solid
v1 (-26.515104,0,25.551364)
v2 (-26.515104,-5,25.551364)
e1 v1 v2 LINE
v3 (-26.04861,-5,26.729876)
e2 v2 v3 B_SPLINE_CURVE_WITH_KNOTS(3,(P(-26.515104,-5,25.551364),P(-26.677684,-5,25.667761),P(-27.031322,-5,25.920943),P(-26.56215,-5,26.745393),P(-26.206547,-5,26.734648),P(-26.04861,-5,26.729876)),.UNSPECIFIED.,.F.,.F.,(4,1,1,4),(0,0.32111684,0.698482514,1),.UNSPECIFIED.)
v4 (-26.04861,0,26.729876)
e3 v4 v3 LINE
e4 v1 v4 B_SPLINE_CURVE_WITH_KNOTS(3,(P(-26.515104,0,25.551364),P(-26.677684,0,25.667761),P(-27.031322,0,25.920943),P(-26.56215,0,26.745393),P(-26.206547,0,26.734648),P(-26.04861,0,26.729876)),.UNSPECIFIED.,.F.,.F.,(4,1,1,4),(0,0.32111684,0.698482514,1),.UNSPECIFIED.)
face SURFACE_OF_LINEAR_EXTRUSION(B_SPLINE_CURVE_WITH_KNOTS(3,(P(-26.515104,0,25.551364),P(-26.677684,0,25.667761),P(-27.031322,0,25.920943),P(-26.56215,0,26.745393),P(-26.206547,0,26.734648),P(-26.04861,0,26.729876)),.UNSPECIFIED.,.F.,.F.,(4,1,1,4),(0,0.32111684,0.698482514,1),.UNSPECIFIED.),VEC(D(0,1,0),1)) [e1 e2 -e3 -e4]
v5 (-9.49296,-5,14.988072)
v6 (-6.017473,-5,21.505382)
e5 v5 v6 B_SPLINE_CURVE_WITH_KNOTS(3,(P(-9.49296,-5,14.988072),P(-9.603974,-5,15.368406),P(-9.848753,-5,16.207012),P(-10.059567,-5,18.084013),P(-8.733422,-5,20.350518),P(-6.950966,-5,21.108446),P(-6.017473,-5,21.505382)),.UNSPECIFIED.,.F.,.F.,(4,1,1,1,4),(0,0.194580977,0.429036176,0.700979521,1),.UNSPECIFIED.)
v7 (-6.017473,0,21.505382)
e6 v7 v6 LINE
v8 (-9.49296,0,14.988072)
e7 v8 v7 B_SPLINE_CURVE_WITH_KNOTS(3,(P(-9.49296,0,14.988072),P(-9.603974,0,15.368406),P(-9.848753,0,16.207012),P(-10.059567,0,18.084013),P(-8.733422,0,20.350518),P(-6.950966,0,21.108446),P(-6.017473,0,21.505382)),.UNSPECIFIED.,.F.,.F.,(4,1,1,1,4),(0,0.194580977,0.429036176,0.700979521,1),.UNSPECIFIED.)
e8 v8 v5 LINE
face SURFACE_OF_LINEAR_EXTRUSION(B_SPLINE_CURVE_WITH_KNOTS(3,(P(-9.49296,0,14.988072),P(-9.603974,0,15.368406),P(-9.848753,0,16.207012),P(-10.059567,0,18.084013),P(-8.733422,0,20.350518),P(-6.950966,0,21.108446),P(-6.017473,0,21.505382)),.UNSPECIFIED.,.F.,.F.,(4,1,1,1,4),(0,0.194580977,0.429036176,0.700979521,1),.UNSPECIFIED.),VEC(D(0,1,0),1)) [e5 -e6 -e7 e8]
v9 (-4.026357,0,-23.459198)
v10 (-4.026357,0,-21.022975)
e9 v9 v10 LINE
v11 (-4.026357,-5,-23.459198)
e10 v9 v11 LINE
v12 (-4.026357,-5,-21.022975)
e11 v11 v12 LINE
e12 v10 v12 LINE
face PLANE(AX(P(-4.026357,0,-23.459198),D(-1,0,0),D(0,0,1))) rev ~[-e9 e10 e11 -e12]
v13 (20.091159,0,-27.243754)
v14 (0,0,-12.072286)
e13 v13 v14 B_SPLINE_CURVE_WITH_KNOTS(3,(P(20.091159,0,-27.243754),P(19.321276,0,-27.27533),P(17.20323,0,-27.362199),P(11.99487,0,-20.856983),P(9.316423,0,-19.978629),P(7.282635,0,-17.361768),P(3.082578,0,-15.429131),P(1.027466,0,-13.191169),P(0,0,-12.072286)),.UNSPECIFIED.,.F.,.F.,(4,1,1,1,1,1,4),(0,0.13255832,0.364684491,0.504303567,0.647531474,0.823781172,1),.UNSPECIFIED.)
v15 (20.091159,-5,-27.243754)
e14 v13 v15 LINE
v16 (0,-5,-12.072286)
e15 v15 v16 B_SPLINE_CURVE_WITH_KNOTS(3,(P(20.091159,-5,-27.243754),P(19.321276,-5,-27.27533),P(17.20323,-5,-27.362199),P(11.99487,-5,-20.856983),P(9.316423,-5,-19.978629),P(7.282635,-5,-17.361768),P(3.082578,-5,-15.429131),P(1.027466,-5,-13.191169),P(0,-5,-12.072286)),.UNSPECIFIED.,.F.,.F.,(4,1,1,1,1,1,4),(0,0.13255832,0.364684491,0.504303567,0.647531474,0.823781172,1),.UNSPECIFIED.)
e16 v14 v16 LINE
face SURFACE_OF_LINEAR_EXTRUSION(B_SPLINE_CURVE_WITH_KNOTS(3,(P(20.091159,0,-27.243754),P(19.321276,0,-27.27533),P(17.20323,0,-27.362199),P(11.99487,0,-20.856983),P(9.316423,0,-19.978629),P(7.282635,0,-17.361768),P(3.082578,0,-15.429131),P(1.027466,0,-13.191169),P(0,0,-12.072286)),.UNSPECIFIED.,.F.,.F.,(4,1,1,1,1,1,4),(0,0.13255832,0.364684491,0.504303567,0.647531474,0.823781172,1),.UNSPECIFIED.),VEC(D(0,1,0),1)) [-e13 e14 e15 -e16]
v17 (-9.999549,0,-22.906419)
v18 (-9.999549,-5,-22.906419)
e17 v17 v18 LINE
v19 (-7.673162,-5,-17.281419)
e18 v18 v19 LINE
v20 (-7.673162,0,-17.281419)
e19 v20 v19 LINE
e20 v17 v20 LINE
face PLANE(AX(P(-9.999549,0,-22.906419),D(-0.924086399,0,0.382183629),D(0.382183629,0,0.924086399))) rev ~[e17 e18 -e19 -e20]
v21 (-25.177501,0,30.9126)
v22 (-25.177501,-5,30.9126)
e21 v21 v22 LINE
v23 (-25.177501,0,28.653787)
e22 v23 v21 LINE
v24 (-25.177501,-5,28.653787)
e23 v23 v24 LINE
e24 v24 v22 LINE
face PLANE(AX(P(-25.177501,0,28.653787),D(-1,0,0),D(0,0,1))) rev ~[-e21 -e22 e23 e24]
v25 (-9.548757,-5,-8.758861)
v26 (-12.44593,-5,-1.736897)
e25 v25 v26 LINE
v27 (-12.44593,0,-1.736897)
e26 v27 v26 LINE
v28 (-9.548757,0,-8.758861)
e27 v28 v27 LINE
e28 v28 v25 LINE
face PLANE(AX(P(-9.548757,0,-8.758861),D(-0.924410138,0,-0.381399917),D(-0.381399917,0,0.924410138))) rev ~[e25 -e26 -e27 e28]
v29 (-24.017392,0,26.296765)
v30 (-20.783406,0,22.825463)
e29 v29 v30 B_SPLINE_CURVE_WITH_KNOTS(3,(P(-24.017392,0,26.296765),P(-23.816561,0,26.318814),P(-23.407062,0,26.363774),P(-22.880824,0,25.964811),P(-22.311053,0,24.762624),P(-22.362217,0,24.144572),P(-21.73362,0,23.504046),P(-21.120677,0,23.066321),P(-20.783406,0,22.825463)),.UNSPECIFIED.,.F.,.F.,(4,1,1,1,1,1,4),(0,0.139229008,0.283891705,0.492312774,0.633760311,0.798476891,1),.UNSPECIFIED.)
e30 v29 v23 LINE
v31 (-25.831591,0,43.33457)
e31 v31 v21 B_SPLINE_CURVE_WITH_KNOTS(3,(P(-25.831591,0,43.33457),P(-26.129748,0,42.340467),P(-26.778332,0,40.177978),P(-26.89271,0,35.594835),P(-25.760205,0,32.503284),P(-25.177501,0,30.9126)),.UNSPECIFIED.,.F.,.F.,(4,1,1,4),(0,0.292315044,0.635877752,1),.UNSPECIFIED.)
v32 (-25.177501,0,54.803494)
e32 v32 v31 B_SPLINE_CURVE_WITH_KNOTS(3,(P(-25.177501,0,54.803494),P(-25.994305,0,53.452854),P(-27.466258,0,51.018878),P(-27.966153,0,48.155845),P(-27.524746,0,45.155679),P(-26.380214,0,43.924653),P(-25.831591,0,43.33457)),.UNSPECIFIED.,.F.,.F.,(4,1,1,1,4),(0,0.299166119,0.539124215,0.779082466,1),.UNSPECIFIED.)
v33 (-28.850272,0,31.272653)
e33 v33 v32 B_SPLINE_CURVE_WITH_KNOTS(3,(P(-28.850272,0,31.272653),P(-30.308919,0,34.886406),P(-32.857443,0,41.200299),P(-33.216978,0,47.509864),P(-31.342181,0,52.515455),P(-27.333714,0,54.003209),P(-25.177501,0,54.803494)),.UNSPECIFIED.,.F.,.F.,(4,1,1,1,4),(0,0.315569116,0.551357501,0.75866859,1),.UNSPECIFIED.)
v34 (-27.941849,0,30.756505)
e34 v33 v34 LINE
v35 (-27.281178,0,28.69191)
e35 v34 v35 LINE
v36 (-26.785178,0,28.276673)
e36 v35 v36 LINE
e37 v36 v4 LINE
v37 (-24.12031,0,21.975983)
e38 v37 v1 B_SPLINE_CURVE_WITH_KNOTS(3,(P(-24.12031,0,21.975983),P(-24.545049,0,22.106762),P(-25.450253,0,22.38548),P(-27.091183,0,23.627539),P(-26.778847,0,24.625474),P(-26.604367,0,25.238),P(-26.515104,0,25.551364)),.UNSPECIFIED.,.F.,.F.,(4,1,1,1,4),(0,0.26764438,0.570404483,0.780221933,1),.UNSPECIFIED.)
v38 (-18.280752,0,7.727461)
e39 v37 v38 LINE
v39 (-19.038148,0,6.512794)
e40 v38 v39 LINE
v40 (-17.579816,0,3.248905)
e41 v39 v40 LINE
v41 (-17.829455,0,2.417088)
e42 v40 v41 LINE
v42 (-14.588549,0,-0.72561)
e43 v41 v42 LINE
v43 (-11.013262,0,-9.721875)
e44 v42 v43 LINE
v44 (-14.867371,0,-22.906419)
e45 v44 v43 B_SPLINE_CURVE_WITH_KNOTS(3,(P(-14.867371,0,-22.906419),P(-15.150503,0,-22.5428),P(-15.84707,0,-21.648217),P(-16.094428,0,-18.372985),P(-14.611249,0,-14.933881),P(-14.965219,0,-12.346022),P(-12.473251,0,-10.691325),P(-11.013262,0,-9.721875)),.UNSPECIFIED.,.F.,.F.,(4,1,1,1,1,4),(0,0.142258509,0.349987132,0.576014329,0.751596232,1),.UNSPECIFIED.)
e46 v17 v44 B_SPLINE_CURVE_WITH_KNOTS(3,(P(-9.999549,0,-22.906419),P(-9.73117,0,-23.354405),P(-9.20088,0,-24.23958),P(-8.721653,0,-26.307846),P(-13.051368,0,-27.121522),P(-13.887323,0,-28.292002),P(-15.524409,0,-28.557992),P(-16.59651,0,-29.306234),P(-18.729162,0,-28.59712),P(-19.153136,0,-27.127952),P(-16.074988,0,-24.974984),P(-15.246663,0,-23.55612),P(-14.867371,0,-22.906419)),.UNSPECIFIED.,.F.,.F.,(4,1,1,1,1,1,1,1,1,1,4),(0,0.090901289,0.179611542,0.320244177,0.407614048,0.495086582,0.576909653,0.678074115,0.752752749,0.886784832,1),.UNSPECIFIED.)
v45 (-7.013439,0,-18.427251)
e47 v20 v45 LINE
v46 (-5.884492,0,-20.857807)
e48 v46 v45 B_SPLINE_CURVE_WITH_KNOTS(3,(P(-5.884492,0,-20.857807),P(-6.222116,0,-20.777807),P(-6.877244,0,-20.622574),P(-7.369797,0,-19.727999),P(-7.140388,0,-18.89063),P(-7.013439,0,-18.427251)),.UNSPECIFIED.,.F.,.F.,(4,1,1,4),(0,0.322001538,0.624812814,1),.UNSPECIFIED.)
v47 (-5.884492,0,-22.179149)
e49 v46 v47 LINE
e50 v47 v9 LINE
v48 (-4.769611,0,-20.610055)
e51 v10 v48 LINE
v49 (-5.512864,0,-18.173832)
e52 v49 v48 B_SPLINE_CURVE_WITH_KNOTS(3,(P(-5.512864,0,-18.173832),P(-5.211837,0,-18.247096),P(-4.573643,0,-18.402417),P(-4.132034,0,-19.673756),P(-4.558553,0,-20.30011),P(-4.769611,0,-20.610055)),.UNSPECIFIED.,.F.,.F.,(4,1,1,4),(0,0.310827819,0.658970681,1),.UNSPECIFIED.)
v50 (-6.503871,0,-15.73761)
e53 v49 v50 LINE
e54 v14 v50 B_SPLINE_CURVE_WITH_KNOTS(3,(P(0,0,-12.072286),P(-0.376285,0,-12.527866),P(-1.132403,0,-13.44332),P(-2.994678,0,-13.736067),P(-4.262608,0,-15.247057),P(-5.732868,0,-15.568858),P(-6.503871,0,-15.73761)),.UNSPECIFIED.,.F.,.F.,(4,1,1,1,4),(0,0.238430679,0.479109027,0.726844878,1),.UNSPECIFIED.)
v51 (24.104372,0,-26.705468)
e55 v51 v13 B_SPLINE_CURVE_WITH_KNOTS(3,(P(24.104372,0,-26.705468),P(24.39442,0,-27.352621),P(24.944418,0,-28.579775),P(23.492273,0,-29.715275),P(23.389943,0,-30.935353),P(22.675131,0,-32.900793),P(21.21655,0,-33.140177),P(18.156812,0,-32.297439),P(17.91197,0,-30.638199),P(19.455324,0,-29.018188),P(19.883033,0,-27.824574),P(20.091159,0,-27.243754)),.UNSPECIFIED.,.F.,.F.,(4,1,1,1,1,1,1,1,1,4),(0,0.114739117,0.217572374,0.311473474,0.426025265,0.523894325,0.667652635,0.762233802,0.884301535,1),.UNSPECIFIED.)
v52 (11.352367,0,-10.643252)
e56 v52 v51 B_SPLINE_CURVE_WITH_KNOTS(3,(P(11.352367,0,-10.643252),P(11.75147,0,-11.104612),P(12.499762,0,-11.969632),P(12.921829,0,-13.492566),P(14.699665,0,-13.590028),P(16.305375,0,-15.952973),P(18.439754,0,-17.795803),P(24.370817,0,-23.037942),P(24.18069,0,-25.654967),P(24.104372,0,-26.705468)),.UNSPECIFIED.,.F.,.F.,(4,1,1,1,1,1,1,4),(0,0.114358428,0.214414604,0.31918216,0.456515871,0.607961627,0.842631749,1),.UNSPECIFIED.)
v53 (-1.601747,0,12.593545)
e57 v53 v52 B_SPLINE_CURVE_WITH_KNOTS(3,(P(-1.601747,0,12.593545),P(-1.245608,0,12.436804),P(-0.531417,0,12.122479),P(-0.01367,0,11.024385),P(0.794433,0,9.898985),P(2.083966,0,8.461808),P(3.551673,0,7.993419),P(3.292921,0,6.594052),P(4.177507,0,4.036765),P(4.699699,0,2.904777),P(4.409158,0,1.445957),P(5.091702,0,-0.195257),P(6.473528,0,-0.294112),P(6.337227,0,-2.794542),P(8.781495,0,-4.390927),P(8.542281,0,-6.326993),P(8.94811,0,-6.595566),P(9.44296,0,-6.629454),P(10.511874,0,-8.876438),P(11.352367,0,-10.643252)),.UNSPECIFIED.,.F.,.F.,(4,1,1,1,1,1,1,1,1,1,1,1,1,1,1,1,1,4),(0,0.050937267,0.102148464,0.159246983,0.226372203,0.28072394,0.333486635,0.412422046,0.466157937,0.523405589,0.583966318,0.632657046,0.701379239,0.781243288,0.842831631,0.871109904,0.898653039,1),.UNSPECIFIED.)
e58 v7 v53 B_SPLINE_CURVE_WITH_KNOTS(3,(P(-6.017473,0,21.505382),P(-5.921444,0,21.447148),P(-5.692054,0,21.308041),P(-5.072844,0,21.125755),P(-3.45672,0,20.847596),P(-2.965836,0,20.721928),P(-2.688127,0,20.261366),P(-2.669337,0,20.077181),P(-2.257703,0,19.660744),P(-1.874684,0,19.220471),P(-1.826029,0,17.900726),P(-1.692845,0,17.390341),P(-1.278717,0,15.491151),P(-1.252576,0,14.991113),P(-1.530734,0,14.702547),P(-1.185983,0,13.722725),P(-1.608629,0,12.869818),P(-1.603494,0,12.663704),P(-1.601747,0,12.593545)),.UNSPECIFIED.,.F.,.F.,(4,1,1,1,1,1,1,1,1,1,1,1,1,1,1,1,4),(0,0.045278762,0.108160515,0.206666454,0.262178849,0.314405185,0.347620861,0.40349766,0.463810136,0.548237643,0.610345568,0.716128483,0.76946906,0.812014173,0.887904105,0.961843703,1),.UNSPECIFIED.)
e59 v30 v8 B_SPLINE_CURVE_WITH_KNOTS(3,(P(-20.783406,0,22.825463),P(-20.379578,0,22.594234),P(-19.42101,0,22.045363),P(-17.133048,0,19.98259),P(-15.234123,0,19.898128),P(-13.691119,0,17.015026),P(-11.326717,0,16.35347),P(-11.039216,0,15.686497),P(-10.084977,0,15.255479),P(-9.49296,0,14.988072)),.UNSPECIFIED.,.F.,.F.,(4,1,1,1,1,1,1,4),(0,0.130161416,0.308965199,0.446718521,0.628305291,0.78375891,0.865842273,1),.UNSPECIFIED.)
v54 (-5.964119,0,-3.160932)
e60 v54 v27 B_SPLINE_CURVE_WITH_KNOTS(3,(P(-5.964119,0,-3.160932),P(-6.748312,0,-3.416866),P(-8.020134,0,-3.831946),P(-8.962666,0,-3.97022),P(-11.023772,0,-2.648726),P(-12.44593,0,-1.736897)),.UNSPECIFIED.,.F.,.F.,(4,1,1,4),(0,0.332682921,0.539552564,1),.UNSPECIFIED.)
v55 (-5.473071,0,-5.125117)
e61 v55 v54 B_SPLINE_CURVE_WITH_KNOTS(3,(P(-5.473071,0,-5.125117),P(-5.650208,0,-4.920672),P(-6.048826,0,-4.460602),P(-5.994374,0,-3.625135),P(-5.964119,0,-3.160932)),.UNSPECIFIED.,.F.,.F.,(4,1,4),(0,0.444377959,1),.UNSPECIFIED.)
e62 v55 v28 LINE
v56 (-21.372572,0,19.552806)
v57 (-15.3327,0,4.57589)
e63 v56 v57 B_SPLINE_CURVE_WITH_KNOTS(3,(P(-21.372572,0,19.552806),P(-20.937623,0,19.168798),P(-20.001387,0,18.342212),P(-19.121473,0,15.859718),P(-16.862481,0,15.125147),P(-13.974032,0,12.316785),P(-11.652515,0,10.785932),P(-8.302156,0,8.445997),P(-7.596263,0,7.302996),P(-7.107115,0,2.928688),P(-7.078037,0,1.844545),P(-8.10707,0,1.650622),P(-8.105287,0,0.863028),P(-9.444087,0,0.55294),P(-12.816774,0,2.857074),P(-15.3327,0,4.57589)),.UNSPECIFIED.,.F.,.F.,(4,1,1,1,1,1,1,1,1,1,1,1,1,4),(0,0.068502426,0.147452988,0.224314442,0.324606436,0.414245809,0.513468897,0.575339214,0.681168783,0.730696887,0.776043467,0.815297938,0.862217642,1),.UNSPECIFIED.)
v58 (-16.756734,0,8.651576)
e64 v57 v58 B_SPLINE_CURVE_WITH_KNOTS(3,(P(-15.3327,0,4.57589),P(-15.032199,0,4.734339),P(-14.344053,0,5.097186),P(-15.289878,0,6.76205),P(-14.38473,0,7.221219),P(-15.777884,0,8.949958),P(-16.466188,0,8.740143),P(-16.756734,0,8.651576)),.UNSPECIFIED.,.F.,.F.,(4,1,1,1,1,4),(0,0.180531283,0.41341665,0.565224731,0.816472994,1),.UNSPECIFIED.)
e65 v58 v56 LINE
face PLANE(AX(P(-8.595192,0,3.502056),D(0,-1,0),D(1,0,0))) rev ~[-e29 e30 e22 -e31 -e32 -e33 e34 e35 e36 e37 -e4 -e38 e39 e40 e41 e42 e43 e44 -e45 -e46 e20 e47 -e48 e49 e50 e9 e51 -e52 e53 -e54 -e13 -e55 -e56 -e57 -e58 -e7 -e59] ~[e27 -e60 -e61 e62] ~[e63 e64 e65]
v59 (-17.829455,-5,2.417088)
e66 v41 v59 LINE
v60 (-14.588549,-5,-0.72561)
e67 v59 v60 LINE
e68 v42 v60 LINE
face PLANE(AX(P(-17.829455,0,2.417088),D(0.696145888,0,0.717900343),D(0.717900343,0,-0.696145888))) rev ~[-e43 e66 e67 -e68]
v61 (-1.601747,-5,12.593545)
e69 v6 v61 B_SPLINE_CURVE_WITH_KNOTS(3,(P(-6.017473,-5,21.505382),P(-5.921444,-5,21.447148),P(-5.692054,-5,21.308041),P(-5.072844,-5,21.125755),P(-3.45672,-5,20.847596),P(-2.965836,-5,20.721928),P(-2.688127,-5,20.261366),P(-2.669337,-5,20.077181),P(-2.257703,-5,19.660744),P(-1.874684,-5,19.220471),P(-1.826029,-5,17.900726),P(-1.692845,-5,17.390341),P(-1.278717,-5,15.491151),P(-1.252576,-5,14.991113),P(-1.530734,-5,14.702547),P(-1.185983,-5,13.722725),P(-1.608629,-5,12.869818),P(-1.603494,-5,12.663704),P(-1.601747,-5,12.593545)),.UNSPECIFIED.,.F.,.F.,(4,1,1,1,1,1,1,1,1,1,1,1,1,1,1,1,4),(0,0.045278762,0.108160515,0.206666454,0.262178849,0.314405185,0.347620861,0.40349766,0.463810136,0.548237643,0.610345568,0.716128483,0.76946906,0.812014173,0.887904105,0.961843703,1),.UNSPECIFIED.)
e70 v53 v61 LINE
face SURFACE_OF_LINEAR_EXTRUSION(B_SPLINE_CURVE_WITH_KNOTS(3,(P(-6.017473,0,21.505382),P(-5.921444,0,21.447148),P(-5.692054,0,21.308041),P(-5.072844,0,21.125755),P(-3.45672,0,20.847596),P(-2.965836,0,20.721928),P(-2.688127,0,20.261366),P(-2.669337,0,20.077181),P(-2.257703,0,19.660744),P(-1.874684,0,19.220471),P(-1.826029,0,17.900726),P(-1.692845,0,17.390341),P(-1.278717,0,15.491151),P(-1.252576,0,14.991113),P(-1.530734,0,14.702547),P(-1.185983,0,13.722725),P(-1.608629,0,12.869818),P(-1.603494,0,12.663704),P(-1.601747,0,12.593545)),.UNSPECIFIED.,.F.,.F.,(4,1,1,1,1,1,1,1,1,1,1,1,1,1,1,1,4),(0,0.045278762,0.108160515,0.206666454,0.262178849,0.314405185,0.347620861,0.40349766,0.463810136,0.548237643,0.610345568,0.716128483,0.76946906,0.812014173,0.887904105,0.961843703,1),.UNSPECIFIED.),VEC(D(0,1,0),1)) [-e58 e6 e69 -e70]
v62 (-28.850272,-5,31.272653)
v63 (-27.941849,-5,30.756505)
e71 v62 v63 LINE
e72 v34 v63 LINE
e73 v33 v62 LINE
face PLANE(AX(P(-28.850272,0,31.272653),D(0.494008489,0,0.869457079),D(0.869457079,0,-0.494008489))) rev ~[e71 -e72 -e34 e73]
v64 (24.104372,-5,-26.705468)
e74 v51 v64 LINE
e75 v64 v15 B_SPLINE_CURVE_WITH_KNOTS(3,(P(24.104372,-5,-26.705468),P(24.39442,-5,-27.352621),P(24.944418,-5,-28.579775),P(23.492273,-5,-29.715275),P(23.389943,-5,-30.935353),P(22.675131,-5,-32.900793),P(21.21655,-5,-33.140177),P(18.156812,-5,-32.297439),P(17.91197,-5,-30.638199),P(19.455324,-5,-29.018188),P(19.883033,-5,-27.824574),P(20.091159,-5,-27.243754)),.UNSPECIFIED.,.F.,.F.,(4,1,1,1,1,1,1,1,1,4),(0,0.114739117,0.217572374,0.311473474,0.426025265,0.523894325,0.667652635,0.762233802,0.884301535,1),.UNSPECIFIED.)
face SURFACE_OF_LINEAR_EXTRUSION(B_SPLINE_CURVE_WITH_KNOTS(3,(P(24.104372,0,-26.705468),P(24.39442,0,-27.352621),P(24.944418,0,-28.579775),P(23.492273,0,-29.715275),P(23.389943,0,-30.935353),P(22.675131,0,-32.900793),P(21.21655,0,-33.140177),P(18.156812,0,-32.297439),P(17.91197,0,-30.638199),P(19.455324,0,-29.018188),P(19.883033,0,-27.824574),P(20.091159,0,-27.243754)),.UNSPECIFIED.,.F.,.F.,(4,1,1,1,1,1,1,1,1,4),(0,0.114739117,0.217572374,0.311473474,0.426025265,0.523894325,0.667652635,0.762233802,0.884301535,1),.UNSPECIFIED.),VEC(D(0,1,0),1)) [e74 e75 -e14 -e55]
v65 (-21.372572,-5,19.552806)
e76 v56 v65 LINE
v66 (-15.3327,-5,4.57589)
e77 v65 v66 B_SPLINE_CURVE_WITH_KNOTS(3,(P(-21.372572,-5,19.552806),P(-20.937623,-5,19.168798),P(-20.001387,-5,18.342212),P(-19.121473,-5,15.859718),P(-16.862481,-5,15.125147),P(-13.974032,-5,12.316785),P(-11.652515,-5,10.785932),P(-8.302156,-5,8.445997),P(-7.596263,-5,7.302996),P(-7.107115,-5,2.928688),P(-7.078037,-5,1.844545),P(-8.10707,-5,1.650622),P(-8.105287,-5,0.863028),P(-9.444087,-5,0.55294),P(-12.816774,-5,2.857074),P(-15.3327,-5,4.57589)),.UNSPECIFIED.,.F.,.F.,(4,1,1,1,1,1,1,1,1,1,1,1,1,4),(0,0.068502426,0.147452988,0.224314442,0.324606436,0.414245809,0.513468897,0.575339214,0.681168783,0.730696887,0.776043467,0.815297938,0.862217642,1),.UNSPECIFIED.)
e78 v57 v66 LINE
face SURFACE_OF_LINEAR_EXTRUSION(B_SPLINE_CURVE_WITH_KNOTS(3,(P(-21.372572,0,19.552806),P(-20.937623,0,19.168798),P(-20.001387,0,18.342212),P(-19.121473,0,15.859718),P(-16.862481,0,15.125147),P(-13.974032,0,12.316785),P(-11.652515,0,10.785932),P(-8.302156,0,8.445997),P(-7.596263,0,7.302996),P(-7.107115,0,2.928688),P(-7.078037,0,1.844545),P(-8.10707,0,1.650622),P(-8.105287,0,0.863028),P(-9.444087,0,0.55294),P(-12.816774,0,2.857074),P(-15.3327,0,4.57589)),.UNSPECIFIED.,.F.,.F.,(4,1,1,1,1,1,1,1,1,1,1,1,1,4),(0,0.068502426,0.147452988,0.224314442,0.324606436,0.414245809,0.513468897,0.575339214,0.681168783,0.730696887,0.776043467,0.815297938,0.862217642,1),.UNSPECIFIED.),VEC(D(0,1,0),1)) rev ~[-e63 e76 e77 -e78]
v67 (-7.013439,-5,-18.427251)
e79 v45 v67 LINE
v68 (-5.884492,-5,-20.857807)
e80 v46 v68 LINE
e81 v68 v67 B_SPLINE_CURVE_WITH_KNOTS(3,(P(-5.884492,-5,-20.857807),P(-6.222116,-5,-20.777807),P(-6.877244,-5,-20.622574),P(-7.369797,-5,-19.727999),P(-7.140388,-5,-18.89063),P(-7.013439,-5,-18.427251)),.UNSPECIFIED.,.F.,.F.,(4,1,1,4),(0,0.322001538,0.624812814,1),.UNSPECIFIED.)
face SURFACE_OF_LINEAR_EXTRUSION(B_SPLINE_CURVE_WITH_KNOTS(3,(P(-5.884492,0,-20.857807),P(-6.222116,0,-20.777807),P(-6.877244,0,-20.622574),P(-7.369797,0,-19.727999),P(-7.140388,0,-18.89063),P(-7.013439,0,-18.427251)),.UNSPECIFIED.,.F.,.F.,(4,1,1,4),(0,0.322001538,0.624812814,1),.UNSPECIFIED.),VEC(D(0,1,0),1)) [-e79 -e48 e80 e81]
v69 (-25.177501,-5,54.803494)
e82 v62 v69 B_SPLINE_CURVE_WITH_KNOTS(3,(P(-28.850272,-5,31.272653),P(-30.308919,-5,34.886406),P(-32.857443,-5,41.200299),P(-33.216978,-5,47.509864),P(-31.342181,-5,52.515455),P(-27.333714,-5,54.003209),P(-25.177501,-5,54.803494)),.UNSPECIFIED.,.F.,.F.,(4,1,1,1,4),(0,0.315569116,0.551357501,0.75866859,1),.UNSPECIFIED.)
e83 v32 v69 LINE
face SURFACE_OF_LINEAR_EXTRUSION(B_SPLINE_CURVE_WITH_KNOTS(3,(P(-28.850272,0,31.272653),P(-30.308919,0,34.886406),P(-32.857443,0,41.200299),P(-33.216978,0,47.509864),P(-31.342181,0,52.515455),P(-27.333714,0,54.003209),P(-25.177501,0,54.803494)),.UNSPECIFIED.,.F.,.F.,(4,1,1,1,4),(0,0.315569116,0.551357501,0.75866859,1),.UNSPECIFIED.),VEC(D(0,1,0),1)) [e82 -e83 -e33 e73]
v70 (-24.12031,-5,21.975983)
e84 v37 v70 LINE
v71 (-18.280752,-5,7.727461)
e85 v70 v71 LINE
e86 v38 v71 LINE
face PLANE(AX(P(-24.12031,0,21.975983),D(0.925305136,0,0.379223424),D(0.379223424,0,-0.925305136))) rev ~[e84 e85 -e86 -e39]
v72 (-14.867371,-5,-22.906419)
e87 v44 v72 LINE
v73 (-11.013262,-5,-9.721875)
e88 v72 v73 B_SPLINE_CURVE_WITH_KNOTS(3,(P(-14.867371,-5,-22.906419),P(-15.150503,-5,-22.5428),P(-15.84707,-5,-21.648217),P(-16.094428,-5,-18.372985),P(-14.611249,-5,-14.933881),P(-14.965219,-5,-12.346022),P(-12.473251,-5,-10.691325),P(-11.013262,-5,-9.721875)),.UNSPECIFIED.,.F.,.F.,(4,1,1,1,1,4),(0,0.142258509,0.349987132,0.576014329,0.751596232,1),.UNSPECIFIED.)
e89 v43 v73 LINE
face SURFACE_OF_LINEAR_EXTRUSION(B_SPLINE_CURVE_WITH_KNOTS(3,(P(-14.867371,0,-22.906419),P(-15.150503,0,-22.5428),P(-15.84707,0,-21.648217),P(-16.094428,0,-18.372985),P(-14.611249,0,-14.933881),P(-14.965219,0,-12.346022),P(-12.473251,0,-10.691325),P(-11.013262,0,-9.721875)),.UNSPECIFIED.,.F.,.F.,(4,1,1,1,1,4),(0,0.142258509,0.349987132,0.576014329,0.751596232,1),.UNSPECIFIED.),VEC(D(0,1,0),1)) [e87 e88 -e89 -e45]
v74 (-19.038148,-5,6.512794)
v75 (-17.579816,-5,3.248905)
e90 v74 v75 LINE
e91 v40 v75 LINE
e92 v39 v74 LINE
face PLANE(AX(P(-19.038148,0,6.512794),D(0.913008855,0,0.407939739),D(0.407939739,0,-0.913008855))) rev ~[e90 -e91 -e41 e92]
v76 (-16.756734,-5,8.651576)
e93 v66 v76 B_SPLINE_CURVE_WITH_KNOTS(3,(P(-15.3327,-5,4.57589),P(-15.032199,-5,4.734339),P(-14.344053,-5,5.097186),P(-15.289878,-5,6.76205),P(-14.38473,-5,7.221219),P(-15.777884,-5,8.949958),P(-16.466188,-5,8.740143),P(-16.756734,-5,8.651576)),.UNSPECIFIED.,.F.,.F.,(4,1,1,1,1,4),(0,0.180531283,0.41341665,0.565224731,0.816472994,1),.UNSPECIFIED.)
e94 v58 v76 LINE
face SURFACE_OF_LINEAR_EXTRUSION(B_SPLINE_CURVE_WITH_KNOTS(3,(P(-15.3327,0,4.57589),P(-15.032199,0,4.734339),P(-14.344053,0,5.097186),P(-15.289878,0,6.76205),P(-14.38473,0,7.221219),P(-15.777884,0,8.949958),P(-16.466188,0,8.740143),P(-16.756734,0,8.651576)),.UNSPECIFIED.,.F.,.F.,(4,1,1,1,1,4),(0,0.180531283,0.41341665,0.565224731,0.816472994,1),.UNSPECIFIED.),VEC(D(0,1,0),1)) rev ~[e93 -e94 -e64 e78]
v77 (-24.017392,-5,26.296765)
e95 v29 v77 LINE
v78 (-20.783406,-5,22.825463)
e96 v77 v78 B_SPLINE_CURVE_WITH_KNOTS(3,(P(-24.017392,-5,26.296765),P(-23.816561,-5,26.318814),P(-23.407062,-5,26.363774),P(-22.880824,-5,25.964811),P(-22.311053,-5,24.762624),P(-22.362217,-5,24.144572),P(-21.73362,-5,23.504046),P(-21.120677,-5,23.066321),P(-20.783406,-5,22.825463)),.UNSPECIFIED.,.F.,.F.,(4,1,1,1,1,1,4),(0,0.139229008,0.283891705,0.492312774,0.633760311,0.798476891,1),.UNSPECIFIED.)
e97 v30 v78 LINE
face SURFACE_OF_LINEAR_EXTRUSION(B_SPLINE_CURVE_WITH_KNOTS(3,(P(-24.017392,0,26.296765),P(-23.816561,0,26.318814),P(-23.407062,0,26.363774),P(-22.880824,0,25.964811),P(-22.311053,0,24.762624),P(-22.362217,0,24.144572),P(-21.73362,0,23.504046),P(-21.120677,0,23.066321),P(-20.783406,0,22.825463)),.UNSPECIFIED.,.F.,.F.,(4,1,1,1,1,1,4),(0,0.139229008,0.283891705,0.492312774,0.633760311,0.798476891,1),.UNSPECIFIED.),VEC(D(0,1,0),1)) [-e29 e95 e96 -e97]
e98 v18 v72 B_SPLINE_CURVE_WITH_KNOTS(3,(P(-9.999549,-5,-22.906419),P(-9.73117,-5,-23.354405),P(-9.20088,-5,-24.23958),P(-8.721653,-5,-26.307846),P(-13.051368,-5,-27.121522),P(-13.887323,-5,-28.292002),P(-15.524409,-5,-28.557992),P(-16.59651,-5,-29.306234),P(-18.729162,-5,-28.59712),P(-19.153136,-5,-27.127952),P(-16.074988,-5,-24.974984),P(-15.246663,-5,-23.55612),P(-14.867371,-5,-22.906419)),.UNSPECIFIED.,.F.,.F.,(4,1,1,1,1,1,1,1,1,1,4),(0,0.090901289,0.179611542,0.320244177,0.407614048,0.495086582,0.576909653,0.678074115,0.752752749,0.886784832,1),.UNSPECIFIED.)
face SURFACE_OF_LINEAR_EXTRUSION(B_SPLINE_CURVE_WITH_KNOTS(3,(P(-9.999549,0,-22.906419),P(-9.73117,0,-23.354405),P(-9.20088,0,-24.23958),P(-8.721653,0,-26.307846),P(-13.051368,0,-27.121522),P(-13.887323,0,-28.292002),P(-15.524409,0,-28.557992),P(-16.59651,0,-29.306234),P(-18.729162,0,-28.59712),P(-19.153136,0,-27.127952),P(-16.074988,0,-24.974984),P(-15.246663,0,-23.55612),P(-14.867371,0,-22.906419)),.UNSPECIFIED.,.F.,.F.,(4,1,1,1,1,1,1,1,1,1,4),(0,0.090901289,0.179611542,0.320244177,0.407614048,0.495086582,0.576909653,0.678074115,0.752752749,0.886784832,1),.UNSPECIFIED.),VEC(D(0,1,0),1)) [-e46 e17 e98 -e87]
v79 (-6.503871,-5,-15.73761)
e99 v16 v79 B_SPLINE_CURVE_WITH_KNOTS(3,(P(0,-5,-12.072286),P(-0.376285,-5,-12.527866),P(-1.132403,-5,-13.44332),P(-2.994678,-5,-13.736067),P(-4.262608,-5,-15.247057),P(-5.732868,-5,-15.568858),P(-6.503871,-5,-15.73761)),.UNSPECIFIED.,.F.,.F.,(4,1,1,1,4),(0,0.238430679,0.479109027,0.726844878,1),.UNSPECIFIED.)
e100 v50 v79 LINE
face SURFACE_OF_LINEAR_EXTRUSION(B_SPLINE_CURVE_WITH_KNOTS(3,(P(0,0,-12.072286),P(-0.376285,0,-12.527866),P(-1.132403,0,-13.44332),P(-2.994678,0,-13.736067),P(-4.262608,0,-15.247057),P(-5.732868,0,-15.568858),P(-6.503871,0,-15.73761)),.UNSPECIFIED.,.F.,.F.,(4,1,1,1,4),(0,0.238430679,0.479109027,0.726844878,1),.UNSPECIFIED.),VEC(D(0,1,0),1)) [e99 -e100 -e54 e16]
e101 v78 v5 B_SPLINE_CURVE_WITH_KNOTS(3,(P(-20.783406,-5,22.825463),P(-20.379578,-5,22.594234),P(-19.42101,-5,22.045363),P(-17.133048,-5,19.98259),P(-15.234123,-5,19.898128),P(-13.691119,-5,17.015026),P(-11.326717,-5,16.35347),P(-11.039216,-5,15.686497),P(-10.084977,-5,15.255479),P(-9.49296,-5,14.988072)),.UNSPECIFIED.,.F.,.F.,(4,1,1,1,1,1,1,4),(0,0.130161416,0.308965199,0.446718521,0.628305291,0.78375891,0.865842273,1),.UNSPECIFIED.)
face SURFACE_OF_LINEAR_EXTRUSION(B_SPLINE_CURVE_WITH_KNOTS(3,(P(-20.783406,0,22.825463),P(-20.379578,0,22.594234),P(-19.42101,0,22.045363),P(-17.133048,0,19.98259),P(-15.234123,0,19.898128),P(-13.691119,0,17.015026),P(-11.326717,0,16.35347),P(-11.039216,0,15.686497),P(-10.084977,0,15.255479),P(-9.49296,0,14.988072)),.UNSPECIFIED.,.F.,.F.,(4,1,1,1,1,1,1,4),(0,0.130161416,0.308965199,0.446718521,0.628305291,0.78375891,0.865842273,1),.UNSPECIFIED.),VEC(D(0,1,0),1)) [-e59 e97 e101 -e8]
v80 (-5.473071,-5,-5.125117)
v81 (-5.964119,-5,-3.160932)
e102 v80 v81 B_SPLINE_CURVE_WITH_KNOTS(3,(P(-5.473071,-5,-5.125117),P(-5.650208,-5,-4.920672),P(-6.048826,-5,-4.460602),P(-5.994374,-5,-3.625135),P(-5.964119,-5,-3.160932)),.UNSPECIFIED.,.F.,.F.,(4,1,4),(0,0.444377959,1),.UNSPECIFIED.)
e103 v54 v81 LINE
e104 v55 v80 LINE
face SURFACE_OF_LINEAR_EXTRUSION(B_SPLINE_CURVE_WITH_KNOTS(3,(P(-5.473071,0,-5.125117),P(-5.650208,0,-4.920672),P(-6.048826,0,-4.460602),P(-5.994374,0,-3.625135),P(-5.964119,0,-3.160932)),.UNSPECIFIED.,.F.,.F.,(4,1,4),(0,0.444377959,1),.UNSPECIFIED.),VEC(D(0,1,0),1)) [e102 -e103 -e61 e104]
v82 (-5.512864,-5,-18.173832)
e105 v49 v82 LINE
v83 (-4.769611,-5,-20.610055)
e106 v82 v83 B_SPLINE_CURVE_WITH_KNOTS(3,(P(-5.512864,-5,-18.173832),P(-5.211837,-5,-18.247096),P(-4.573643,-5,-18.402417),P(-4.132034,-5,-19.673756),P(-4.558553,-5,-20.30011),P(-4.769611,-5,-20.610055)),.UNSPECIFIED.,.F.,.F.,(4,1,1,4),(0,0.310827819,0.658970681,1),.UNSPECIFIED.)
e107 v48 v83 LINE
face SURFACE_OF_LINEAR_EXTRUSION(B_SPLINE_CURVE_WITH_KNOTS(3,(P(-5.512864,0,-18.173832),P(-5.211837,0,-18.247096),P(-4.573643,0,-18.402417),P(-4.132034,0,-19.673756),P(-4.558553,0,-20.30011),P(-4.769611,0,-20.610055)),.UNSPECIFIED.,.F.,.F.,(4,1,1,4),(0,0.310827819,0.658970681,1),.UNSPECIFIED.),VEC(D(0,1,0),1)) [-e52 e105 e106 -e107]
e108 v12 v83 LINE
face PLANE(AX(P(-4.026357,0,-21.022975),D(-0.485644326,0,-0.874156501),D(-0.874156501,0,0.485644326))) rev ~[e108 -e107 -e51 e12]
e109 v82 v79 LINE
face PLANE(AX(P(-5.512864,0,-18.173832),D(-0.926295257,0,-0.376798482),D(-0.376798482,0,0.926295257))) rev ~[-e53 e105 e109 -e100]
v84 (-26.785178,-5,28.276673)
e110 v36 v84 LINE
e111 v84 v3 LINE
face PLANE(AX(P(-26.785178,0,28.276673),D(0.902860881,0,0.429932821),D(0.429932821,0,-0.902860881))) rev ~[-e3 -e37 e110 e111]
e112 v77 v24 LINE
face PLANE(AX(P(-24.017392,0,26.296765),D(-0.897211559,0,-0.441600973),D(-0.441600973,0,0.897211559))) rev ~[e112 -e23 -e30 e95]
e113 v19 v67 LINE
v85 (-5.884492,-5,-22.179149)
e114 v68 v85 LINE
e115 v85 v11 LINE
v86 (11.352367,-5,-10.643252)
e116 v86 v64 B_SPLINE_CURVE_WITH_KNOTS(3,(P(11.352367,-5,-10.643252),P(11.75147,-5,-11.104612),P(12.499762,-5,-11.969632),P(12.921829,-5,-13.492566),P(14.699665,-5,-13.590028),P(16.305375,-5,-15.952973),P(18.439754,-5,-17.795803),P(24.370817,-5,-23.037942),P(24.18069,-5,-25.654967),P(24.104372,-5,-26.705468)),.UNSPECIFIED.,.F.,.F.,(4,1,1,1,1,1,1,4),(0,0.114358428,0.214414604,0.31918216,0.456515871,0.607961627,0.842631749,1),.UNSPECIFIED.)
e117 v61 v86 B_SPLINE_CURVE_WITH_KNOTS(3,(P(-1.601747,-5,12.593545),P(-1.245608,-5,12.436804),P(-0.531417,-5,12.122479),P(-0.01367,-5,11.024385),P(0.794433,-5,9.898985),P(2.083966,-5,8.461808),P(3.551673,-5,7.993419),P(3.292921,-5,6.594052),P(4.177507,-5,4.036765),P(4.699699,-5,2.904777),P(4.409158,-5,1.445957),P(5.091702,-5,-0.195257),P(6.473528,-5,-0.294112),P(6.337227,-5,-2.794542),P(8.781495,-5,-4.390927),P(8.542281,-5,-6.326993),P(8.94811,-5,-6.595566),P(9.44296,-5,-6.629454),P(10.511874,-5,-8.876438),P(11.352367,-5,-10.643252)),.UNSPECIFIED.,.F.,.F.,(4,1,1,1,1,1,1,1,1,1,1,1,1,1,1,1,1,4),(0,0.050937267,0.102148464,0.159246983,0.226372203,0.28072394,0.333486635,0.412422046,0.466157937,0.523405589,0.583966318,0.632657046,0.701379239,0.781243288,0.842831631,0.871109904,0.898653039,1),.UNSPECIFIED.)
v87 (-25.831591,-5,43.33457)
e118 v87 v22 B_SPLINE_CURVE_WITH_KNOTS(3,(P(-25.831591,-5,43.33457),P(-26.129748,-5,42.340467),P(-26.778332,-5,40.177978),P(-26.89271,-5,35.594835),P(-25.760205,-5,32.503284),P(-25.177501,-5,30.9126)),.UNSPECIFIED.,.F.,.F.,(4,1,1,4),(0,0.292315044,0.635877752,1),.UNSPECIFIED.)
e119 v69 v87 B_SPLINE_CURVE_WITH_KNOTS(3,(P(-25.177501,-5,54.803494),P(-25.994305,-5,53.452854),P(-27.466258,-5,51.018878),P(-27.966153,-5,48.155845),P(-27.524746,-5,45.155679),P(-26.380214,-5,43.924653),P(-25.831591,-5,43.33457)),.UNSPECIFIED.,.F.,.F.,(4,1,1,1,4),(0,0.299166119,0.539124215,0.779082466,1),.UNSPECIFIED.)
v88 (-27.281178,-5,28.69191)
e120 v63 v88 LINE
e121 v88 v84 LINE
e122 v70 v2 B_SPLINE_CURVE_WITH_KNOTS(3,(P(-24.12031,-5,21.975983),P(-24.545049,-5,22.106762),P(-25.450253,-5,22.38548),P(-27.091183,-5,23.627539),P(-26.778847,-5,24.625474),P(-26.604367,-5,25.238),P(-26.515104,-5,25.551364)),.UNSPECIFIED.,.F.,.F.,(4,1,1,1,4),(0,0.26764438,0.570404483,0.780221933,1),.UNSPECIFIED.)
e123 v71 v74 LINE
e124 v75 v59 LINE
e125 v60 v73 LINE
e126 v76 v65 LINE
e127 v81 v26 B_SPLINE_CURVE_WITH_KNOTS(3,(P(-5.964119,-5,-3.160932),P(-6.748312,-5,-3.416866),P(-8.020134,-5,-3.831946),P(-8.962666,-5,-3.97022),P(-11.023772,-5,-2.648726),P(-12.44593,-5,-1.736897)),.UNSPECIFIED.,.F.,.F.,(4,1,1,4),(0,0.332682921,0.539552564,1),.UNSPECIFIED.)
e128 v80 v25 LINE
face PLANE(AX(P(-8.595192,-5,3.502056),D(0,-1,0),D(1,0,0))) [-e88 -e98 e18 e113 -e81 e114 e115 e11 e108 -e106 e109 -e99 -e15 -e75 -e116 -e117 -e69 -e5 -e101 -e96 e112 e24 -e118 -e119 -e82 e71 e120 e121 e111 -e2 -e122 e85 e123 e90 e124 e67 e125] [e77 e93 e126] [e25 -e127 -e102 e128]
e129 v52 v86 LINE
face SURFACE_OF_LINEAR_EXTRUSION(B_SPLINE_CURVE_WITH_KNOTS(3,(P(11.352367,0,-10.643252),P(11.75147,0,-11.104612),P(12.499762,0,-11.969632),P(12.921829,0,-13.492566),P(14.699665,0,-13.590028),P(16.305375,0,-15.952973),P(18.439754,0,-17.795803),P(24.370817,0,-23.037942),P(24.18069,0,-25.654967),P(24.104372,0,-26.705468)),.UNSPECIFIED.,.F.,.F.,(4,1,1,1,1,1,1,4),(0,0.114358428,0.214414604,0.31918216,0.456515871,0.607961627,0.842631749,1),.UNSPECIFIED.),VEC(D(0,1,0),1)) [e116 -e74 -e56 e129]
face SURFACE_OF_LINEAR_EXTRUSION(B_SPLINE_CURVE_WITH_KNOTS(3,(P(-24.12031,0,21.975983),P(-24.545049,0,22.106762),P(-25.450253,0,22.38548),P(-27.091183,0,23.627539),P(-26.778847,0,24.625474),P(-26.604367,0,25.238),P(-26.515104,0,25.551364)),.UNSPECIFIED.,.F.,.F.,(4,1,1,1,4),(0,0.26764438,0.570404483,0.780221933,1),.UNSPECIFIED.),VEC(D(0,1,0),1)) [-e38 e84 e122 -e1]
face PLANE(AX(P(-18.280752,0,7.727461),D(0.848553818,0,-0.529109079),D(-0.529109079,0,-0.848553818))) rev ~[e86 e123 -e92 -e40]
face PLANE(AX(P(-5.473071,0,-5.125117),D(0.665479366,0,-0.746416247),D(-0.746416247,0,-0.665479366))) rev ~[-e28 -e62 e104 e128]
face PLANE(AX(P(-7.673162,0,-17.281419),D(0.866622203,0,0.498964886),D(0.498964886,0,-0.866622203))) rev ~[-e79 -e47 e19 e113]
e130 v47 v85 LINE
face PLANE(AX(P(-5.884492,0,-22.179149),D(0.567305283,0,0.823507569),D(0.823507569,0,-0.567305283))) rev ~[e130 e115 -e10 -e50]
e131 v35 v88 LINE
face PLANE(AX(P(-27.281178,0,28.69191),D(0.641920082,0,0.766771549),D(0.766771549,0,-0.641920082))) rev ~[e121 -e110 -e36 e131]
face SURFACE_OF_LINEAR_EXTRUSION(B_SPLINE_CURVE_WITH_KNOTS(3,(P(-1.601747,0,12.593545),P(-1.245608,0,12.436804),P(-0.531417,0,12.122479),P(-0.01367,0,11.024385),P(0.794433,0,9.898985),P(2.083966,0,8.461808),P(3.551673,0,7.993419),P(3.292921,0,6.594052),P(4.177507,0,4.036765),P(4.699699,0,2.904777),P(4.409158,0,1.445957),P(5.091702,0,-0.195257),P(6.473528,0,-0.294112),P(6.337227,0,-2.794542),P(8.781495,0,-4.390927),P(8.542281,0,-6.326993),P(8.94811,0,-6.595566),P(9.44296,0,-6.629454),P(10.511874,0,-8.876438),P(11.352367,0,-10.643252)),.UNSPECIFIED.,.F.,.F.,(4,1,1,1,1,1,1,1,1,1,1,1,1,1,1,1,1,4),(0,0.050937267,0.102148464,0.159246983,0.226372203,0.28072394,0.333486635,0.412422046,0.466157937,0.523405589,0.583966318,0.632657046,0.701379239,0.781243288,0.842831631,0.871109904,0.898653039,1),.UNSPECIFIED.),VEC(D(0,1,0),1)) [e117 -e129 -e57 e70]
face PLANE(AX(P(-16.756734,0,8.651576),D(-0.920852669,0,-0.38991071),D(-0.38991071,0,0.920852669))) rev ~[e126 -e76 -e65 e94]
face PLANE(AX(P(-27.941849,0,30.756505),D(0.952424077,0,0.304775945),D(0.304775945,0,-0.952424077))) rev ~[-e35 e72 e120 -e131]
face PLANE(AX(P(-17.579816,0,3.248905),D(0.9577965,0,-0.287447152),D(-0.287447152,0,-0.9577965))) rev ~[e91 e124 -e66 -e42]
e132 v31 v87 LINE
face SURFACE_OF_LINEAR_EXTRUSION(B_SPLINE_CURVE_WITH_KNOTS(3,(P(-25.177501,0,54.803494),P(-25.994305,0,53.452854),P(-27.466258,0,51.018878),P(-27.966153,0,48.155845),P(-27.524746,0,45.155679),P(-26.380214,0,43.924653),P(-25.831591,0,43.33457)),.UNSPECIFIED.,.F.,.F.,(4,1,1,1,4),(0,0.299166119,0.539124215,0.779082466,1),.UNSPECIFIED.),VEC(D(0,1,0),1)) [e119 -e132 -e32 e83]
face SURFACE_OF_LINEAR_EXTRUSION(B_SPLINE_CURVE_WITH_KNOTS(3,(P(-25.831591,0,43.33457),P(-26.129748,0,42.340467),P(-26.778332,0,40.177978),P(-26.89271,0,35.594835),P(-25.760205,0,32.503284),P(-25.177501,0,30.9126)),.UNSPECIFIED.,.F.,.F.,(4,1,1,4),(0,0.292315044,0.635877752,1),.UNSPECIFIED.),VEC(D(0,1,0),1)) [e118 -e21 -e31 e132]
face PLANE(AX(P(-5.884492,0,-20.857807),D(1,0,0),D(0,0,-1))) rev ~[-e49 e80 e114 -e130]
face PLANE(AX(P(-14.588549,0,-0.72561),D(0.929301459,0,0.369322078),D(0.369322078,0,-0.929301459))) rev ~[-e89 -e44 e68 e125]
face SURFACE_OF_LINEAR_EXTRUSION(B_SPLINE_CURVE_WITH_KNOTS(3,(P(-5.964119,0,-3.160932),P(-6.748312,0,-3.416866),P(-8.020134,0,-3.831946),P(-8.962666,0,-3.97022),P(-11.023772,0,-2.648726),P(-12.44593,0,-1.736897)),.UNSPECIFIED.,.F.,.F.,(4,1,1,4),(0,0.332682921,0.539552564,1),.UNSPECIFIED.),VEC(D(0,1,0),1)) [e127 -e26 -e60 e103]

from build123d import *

# Parameters (mm, degrees)
F1_DEPTH = 5


with BuildPart() as f1:
    # F0 (on Front) → F1 (new body)
    with BuildSketch(Plane.XZ):
        with BuildLine():
            Line((-24.1203103215, 21.9759829342), (-18.2807520032, 7.7274609357))
            Line((-18.2807520032, 7.7274609357), (-19.0381482244, 6.5127937123))
            Line((-19.0381482244, 6.5127937123), (-17.5798162818, 3.2489048317))
            Line((-17.5798162818, 3.2489048317), (-17.8294554353, 2.4170875549))
            Line((-17.8294554353, 2.4170875549), (-14.5885488018, -0.7256102399))
            Line((-14.5885488018, -0.7256102399), (-11.0132619739, -9.7218751907))
            add(Edge.make_bspline(
                [(-14.8673709482, -22.9064188898), (-15.150503075, -22.5427997144), (-15.8470702017, -21.6482167965), (-16.0944275733, -18.3729851975), (-14.611248973, -14.9338812026), (-14.965218938, -12.3460222686), (-12.4732507013, -10.6913253107), (-11.0132619739, -9.7218751907)],
                knots=[0, 0, 0, 0, 0.1422585094, 0.3499871324, 0.5760143286, 0.7515962316, 1, 1, 1, 1], degree=3))
            add(Edge.make_bspline(
                [(-9.9995490164, -22.9064188898), (-9.7311698044, -23.3544053065), (-9.2008802496, -24.2395801149), (-8.721652925, -26.3078463525), (-13.0513683166, -27.1215222713), (-13.8873228264, -28.2920015259), (-15.5244092029, -28.5579918803), (-16.5965096871, -29.3062341732), (-18.7291618658, -28.5971203006), (-19.1531356958, -27.1279524612), (-16.074988322, -24.9749843607), (-15.2466632037, -23.5561204262), (-14.8673709482, -22.9064188898)],
                knots=[0, 0, 0, 0, 0.0909012889, 0.1796115417, 0.3202441767, 0.4076140482, 0.4950865817, 0.5769096526, 0.6780741152, 0.7527527486, 0.8867848317, 1, 1, 1, 1], degree=3))
            Line((-9.9995490164, -22.9064188898), (-7.67316157, -17.2814186662))
            Line((-7.67316157, -17.2814186662), (-7.0134392008, -18.4272509068))
            add(Edge.make_bspline(
                [(-5.8844918385, -20.8578072488), (-6.2221164567, -20.7778068892), (-6.8772443457, -20.6225739355), (-7.3697973958, -19.7279994004), (-7.140388356, -18.8906299585), (-7.0134392008, -18.4272509068)],
                knots=[0, 0, 0, 0, 0.322001538, 0.6248128143, 1, 1, 1, 1], degree=3))
            Line((-5.8844918385, -20.8578072488), (-5.8844918385, -22.1791490912))
            Line((-5.8844918385, -22.1791490912), (-4.0263566189, -23.4591979533))
            Line((-4.0263566189, -23.4591979533), (-4.0263566189, -21.0229754448))
            Line((-4.0263566189, -21.0229754448), (-4.7696107067, -20.6100549549))
            add(Edge.make_bspline(
                [(-5.5128643289, -18.1738324463), (-5.2118365762, -18.2470956076), (-4.5736425311, -18.402417211), (-4.1320337416, -19.673755952), (-4.5585525415, -20.3001103357), (-4.7696107067, -20.6100549549)],
                knots=[0, 0, 0, 0, 0.3108278188, 0.6589706806, 1, 1, 1, 1], degree=3))
            Line((-5.5128643289, -18.1738324463), (-6.5038711764, -15.7376099378))
            add(Edge.make_bspline(
                [(0, -12.0722856373), (-0.3762851457, -12.527865535), (-1.1324026488, -13.443320048), (-2.9946780198, -13.7360672192), (-4.2626082372, -15.2470570007), (-5.7328675082, -15.5688577101), (-6.5038711764, -15.7376099378)],
                knots=[0, 0, 0, 0, 0.2384306792, 0.4791090266, 0.7268448775, 1, 1, 1, 1], degree=3))
            add(Edge.make_bspline(
                [(20.0911592692, -27.2437538952), (19.321275811, -27.2753298207), (17.2032302757, -27.3621991351), (11.9948695923, -20.8569828754), (9.316423189, -19.978629408), (7.2826347876, -17.361768118), (3.0825776353, -15.4291307313), (1.0274658835, -13.191168669), (0, -12.0722856373)],
                knots=[0, 0, 0, 0, 0.1325583198, 0.3646844914, 0.504303567, 0.6475314744, 0.8237811716, 1, 1, 1, 1], degree=3))
            add(Edge.make_bspline(
                [(24.1043716669, -26.7054680735), (24.3944195035, -27.3526209354), (24.9444184739, -28.57977509), (23.4922734831, -29.7152754997), (23.3899425635, -30.9353527133), (22.6751313312, -32.9007931078), (21.2165503707, -33.1401768255), (18.1568122428, -32.2974393289), (17.9119695724, -30.6381992508), (19.455324375, -29.018187808), (19.8830334531, -27.8245737111), (20.0911592692, -27.2437538952)],
                knots=[0, 0, 0, 0, 0.1147391171, 0.2175723736, 0.3114734744, 0.4260252646, 0.523894325, 0.6676526347, 0.7622338018, 0.8843015345, 1, 1, 1, 1], degree=3))
            add(Edge.make_bspline(
                [(11.3523667678, -10.6432521716), (11.7514697639, -11.1046119855), (12.4997618891, -11.9696315896), (12.9218293624, -13.4925658453), (14.6996652539, -13.5900277659), (16.3053745662, -15.9529726334), (18.4397537053, -17.7958028806), (24.370816881, -23.0379418617), (24.1806903996, -25.6549671158), (24.1043716669, -26.7054680735)],
                knots=[0, 0, 0, 0, 0.1143584279, 0.2144146044, 0.3191821603, 0.4565158707, 0.6079616273, 0.8426317494, 1, 1, 1, 1], degree=3))
            add(Edge.make_bspline(
                [(-1.6017466551, 12.5935450196), (-1.2456084574, 12.4368040179), (-0.5314168268, 12.1224790947), (-0.0136702876, 11.0243846739), (0.7944326824, 9.8989854866), (2.0839663571, 8.4618082396), (3.5516730938, 7.9934188466), (3.2929209655, 6.5940518744), (4.1775071465, 4.0367650179), (4.6996992608, 2.9047768523), (4.409158131, 1.4459573258), (5.0917023531, -0.1952574089), (6.4735282194, -0.2941124951), (6.3372274844, -2.7945419428), (8.7814949075, -4.3909266859), (8.5422814117, -6.3269932907), (8.9481099601, -6.5955661599), (9.4429596132, -6.6294544001), (10.5118738661, -8.8764375203), (11.3523667678, -10.6432521716)],
                knots=[0, 0, 0, 0, 0.0509372669, 0.1021484636, 0.1592469829, 0.2263722025, 0.2807239402, 0.3334866348, 0.4124220464, 0.4661579368, 0.523405589, 0.5839663177, 0.6326570464, 0.7013792386, 0.7812432877, 0.8428316308, 0.8711099039, 0.8986530392, 1, 1, 1, 1], degree=3))
            add(Edge.make_bspline(
                [(-6.0174730606, 21.505381912), (-5.921444452, 21.4471480873), (-5.6920542665, 21.3080409188), (-5.0728437511, 21.1257552601), (-3.4567198189, 20.847595573), (-2.9658363095, 20.7219279285), (-2.6881267228, 20.2613657998), (-2.6693372569, 20.0771813711), (-2.2577028465, 19.6607437685), (-1.8746838477, 19.2204714186), (-1.8260287535, 17.9007256306), (-1.6928445131, 17.3903408715), (-1.2787171843, 15.49115093), (-1.2525755879, 14.9911130424), (-1.5307336501, 14.7025467937), (-1.1859828189, 13.7227253988), (-1.6086289503, 12.8698182678), (-1.6034944026, 12.663704156), (-1.6017466551, 12.5935450196)],
                knots=[0, 0, 0, 0, 0.0452787625, 0.1081605147, 0.2066664544, 0.2621788489, 0.3144051851, 0.3476208609, 0.4034976597, 0.4638101359, 0.5482376432, 0.6103455676, 0.7161284825, 0.7694690602, 0.8120141734, 0.8879041048, 0.9618437034, 1, 1, 1, 1], degree=3))
            add(Edge.make_bspline(
                [(-9.4929598272, 14.9880722165), (-9.6039744984, 15.368405825), (-9.8487533593, 16.2070123475), (-10.0595668465, 18.0840131598), (-8.7334216813, 20.3505181606), (-6.9509660602, 21.1084461161), (-6.0174730606, 21.505381912)],
                knots=[0, 0, 0, 0, 0.1945809773, 0.4290361755, 0.7009795212, 1, 1, 1, 1], degree=3))
            add(Edge.make_bspline(
                [(-20.783405751, 22.8254627436), (-20.3795782717, 22.5942336502), (-19.4210097379, 22.0453632923), (-17.1330480401, 19.9825899517), (-15.2341225973, 19.8981284661), (-13.6911194673, 17.0150264), (-11.3267169786, 16.3534703795), (-11.0392157787, 15.6864972266), (-10.0849771891, 15.2554792596), (-9.4929598272, 14.9880722165)],
                knots=[0, 0, 0, 0, 0.1301614159, 0.3089651992, 0.4467185212, 0.6283052914, 0.7837589095, 0.8658422733, 1, 1, 1, 1], degree=3))
            add(Edge.make_bspline(
                [(-24.0173917264, 26.2967646122), (-23.8165610801, 26.3188140679), (-23.4070619719, 26.3637735033), (-22.8808236782, 25.9648114967), (-22.3110527481, 24.7626240677), (-22.3622165111, 24.1445716194), (-21.7336204047, 23.5040464564), (-21.1206772524, 23.0663208979), (-20.783405751, 22.8254627436)],
                knots=[0, 0, 0, 0, 0.1392290077, 0.2838917045, 0.4923127741, 0.6337603105, 0.7984768906, 1, 1, 1, 1], degree=3))
            Line((-24.0173917264, 26.2967646122), (-25.177501142, 28.653787449))
            Line((-25.177501142, 28.653787449), (-25.177501142, 30.9126004577))
            add(Edge.make_bspline(
                [(-25.8315913379, 43.334569782), (-26.1297475665, 42.3404668476), (-26.7783317439, 40.1779782861), (-26.8927100798, 35.5948351284), (-25.7602045722, 32.5032837521), (-25.177501142, 30.9126004577)],
                knots=[0, 0, 0, 0, 0.2923150441, 0.6358777519, 1, 1, 1, 1], degree=3))
            add(Edge.make_bspline(
                [(-25.177501142, 54.803494364), (-25.9943046327, 53.4528538991), (-27.4662578836, 51.0188784744), (-27.9661528337, 48.1558449824), (-27.5247460752, 45.155678778), (-26.380214446, 43.9246531663), (-25.8315913379, 43.334569782)],
                knots=[0, 0, 0, 0, 0.2991661188, 0.5391242154, 0.7790824658, 1, 1, 1, 1], degree=3))
            add(Edge.make_bspline(
                [(-28.8502722979, 31.2726534903), (-30.3089187129, 34.8864062688), (-32.8574432709, 41.2002994836), (-33.2169781008, 47.5098640935), (-31.3421809454, 52.5154550165), (-27.3337143695, 54.0032093754), (-25.177501142, 54.803494364)],
                knots=[0, 0, 0, 0, 0.315569116, 0.5513575008, 0.7586685899, 1, 1, 1, 1], degree=3))
            Line((-28.8502722979, 31.2726534903), (-27.9418490827, 30.7565052062))
            Line((-27.9418490827, 30.7565052062), (-27.2811781615, 28.6919102073))
            Line((-27.2811781615, 28.6919102073), (-26.78517811, 28.2766725868))
            Line((-26.78517811, 28.2766725868), (-26.0486099869, 26.7298761755))
            add(Edge.make_bspline(
                [(-26.5151038766, 25.5513638258), (-26.677683647, 25.667760503), (-27.0313216768, 25.9209426272), (-26.5621500592, 26.7453926001), (-26.2065467572, 26.734648177), (-26.0486099869, 26.7298761755)],
                knots=[0, 0, 0, 0, 0.3211168402, 0.6984825139, 1, 1, 1, 1], degree=3))
            add(Edge.make_bspline(
                [(-24.1203103215, 21.9759829342), (-24.5450487666, 22.1067624073), (-25.4502525783, 22.3854800011), (-27.0911825619, 23.6275393306), (-26.7788465461, 24.6254739452), (-26.604366599, 25.2379998503), (-26.5151038766, 25.5513638258)],
                knots=[0, 0, 0, 0, 0.2676443801, 0.5704044826, 0.7802219334, 1, 1, 1, 1], degree=3))
        make_face()
        with BuildLine():
            Line((-9.5487572253, -8.7588606402), (-12.4459303916, -1.7368972767))
            add(Edge.make_bspline(
                [(-5.9641185217, -3.1609316356), (-6.7483118871, -3.4168660709), (-8.0201341368, -3.8319462329), (-8.9626661784, -3.9702202762), (-11.0237717276, -2.648725797), (-12.4459303916, -1.7368972767)],
                knots=[0, 0, 0, 0, 0.3326829209, 0.5395525639, 1, 1, 1, 1], degree=3))
            add(Edge.make_bspline(
                [(-5.4730712436, -5.1251174882), (-5.650208237, -4.9206723695), (-6.0488261024, -4.4606020294), (-5.9943735564, -3.6251353419), (-5.9641185217, -3.1609316356)],
                knots=[0, 0, 0, 0, 0.4443779589, 1, 1, 1, 1], degree=3))
            Line((-5.4730712436, -5.1251174882), (-9.5487572253, -8.7588606402))
        make_face(mode=Mode.SUBTRACT)
        with BuildLine():
            Line((-16.7567338794, 8.6515760049), (-21.3725715876, 19.5528063923))
            add(Edge.make_bspline(
                [(-21.3725715876, 19.5528063923), (-20.9376231067, 19.1687982853), (-20.0013868787, 18.342212339), (-19.1214730379, 15.8597176761), (-16.8624814373, 15.1251467021), (-13.9740319476, 12.3167852096), (-11.6525146896, 10.7859321175), (-8.302155863, 8.4459969838), (-7.5962628143, 7.3029960541), (-7.107115422, 2.9286879768), (-7.0780369077, 1.8445452888), (-8.107070285, 1.6506224339), (-8.1052869073, 0.8630283372), (-9.4440869979, 0.552940189), (-12.8167737096, 2.8570738758), (-15.3326997533, 4.5758904889)],
                knots=[0, 0, 0, 0, 0.0685024261, 0.1474529878, 0.2243144418, 0.3246064362, 0.4142458094, 0.5134688972, 0.5753392138, 0.6811687833, 0.7306968875, 0.7760434669, 0.815297938, 0.8622176419, 1, 1, 1, 1], degree=3))
            add(Edge.make_bspline(
                [(-15.3326997533, 4.5758904889), (-15.0321991015, 4.7343390026), (-14.3440525874, 5.0971861103), (-15.2898778477, 6.7620498269), (-14.3847296742, 7.2212193174), (-15.777884216, 8.9499581442), (-16.4661877247, 8.7401430101), (-16.7567338794, 8.6515760049)],
                knots=[0, 0, 0, 0, 0.1805312828, 0.4134166504, 0.5652247313, 0.8164729935, 1, 1, 1, 1], degree=3))
        make_face(mode=Mode.SUBTRACT)
    extrude(amount=F1_DEPTH)


solid = f1.part
